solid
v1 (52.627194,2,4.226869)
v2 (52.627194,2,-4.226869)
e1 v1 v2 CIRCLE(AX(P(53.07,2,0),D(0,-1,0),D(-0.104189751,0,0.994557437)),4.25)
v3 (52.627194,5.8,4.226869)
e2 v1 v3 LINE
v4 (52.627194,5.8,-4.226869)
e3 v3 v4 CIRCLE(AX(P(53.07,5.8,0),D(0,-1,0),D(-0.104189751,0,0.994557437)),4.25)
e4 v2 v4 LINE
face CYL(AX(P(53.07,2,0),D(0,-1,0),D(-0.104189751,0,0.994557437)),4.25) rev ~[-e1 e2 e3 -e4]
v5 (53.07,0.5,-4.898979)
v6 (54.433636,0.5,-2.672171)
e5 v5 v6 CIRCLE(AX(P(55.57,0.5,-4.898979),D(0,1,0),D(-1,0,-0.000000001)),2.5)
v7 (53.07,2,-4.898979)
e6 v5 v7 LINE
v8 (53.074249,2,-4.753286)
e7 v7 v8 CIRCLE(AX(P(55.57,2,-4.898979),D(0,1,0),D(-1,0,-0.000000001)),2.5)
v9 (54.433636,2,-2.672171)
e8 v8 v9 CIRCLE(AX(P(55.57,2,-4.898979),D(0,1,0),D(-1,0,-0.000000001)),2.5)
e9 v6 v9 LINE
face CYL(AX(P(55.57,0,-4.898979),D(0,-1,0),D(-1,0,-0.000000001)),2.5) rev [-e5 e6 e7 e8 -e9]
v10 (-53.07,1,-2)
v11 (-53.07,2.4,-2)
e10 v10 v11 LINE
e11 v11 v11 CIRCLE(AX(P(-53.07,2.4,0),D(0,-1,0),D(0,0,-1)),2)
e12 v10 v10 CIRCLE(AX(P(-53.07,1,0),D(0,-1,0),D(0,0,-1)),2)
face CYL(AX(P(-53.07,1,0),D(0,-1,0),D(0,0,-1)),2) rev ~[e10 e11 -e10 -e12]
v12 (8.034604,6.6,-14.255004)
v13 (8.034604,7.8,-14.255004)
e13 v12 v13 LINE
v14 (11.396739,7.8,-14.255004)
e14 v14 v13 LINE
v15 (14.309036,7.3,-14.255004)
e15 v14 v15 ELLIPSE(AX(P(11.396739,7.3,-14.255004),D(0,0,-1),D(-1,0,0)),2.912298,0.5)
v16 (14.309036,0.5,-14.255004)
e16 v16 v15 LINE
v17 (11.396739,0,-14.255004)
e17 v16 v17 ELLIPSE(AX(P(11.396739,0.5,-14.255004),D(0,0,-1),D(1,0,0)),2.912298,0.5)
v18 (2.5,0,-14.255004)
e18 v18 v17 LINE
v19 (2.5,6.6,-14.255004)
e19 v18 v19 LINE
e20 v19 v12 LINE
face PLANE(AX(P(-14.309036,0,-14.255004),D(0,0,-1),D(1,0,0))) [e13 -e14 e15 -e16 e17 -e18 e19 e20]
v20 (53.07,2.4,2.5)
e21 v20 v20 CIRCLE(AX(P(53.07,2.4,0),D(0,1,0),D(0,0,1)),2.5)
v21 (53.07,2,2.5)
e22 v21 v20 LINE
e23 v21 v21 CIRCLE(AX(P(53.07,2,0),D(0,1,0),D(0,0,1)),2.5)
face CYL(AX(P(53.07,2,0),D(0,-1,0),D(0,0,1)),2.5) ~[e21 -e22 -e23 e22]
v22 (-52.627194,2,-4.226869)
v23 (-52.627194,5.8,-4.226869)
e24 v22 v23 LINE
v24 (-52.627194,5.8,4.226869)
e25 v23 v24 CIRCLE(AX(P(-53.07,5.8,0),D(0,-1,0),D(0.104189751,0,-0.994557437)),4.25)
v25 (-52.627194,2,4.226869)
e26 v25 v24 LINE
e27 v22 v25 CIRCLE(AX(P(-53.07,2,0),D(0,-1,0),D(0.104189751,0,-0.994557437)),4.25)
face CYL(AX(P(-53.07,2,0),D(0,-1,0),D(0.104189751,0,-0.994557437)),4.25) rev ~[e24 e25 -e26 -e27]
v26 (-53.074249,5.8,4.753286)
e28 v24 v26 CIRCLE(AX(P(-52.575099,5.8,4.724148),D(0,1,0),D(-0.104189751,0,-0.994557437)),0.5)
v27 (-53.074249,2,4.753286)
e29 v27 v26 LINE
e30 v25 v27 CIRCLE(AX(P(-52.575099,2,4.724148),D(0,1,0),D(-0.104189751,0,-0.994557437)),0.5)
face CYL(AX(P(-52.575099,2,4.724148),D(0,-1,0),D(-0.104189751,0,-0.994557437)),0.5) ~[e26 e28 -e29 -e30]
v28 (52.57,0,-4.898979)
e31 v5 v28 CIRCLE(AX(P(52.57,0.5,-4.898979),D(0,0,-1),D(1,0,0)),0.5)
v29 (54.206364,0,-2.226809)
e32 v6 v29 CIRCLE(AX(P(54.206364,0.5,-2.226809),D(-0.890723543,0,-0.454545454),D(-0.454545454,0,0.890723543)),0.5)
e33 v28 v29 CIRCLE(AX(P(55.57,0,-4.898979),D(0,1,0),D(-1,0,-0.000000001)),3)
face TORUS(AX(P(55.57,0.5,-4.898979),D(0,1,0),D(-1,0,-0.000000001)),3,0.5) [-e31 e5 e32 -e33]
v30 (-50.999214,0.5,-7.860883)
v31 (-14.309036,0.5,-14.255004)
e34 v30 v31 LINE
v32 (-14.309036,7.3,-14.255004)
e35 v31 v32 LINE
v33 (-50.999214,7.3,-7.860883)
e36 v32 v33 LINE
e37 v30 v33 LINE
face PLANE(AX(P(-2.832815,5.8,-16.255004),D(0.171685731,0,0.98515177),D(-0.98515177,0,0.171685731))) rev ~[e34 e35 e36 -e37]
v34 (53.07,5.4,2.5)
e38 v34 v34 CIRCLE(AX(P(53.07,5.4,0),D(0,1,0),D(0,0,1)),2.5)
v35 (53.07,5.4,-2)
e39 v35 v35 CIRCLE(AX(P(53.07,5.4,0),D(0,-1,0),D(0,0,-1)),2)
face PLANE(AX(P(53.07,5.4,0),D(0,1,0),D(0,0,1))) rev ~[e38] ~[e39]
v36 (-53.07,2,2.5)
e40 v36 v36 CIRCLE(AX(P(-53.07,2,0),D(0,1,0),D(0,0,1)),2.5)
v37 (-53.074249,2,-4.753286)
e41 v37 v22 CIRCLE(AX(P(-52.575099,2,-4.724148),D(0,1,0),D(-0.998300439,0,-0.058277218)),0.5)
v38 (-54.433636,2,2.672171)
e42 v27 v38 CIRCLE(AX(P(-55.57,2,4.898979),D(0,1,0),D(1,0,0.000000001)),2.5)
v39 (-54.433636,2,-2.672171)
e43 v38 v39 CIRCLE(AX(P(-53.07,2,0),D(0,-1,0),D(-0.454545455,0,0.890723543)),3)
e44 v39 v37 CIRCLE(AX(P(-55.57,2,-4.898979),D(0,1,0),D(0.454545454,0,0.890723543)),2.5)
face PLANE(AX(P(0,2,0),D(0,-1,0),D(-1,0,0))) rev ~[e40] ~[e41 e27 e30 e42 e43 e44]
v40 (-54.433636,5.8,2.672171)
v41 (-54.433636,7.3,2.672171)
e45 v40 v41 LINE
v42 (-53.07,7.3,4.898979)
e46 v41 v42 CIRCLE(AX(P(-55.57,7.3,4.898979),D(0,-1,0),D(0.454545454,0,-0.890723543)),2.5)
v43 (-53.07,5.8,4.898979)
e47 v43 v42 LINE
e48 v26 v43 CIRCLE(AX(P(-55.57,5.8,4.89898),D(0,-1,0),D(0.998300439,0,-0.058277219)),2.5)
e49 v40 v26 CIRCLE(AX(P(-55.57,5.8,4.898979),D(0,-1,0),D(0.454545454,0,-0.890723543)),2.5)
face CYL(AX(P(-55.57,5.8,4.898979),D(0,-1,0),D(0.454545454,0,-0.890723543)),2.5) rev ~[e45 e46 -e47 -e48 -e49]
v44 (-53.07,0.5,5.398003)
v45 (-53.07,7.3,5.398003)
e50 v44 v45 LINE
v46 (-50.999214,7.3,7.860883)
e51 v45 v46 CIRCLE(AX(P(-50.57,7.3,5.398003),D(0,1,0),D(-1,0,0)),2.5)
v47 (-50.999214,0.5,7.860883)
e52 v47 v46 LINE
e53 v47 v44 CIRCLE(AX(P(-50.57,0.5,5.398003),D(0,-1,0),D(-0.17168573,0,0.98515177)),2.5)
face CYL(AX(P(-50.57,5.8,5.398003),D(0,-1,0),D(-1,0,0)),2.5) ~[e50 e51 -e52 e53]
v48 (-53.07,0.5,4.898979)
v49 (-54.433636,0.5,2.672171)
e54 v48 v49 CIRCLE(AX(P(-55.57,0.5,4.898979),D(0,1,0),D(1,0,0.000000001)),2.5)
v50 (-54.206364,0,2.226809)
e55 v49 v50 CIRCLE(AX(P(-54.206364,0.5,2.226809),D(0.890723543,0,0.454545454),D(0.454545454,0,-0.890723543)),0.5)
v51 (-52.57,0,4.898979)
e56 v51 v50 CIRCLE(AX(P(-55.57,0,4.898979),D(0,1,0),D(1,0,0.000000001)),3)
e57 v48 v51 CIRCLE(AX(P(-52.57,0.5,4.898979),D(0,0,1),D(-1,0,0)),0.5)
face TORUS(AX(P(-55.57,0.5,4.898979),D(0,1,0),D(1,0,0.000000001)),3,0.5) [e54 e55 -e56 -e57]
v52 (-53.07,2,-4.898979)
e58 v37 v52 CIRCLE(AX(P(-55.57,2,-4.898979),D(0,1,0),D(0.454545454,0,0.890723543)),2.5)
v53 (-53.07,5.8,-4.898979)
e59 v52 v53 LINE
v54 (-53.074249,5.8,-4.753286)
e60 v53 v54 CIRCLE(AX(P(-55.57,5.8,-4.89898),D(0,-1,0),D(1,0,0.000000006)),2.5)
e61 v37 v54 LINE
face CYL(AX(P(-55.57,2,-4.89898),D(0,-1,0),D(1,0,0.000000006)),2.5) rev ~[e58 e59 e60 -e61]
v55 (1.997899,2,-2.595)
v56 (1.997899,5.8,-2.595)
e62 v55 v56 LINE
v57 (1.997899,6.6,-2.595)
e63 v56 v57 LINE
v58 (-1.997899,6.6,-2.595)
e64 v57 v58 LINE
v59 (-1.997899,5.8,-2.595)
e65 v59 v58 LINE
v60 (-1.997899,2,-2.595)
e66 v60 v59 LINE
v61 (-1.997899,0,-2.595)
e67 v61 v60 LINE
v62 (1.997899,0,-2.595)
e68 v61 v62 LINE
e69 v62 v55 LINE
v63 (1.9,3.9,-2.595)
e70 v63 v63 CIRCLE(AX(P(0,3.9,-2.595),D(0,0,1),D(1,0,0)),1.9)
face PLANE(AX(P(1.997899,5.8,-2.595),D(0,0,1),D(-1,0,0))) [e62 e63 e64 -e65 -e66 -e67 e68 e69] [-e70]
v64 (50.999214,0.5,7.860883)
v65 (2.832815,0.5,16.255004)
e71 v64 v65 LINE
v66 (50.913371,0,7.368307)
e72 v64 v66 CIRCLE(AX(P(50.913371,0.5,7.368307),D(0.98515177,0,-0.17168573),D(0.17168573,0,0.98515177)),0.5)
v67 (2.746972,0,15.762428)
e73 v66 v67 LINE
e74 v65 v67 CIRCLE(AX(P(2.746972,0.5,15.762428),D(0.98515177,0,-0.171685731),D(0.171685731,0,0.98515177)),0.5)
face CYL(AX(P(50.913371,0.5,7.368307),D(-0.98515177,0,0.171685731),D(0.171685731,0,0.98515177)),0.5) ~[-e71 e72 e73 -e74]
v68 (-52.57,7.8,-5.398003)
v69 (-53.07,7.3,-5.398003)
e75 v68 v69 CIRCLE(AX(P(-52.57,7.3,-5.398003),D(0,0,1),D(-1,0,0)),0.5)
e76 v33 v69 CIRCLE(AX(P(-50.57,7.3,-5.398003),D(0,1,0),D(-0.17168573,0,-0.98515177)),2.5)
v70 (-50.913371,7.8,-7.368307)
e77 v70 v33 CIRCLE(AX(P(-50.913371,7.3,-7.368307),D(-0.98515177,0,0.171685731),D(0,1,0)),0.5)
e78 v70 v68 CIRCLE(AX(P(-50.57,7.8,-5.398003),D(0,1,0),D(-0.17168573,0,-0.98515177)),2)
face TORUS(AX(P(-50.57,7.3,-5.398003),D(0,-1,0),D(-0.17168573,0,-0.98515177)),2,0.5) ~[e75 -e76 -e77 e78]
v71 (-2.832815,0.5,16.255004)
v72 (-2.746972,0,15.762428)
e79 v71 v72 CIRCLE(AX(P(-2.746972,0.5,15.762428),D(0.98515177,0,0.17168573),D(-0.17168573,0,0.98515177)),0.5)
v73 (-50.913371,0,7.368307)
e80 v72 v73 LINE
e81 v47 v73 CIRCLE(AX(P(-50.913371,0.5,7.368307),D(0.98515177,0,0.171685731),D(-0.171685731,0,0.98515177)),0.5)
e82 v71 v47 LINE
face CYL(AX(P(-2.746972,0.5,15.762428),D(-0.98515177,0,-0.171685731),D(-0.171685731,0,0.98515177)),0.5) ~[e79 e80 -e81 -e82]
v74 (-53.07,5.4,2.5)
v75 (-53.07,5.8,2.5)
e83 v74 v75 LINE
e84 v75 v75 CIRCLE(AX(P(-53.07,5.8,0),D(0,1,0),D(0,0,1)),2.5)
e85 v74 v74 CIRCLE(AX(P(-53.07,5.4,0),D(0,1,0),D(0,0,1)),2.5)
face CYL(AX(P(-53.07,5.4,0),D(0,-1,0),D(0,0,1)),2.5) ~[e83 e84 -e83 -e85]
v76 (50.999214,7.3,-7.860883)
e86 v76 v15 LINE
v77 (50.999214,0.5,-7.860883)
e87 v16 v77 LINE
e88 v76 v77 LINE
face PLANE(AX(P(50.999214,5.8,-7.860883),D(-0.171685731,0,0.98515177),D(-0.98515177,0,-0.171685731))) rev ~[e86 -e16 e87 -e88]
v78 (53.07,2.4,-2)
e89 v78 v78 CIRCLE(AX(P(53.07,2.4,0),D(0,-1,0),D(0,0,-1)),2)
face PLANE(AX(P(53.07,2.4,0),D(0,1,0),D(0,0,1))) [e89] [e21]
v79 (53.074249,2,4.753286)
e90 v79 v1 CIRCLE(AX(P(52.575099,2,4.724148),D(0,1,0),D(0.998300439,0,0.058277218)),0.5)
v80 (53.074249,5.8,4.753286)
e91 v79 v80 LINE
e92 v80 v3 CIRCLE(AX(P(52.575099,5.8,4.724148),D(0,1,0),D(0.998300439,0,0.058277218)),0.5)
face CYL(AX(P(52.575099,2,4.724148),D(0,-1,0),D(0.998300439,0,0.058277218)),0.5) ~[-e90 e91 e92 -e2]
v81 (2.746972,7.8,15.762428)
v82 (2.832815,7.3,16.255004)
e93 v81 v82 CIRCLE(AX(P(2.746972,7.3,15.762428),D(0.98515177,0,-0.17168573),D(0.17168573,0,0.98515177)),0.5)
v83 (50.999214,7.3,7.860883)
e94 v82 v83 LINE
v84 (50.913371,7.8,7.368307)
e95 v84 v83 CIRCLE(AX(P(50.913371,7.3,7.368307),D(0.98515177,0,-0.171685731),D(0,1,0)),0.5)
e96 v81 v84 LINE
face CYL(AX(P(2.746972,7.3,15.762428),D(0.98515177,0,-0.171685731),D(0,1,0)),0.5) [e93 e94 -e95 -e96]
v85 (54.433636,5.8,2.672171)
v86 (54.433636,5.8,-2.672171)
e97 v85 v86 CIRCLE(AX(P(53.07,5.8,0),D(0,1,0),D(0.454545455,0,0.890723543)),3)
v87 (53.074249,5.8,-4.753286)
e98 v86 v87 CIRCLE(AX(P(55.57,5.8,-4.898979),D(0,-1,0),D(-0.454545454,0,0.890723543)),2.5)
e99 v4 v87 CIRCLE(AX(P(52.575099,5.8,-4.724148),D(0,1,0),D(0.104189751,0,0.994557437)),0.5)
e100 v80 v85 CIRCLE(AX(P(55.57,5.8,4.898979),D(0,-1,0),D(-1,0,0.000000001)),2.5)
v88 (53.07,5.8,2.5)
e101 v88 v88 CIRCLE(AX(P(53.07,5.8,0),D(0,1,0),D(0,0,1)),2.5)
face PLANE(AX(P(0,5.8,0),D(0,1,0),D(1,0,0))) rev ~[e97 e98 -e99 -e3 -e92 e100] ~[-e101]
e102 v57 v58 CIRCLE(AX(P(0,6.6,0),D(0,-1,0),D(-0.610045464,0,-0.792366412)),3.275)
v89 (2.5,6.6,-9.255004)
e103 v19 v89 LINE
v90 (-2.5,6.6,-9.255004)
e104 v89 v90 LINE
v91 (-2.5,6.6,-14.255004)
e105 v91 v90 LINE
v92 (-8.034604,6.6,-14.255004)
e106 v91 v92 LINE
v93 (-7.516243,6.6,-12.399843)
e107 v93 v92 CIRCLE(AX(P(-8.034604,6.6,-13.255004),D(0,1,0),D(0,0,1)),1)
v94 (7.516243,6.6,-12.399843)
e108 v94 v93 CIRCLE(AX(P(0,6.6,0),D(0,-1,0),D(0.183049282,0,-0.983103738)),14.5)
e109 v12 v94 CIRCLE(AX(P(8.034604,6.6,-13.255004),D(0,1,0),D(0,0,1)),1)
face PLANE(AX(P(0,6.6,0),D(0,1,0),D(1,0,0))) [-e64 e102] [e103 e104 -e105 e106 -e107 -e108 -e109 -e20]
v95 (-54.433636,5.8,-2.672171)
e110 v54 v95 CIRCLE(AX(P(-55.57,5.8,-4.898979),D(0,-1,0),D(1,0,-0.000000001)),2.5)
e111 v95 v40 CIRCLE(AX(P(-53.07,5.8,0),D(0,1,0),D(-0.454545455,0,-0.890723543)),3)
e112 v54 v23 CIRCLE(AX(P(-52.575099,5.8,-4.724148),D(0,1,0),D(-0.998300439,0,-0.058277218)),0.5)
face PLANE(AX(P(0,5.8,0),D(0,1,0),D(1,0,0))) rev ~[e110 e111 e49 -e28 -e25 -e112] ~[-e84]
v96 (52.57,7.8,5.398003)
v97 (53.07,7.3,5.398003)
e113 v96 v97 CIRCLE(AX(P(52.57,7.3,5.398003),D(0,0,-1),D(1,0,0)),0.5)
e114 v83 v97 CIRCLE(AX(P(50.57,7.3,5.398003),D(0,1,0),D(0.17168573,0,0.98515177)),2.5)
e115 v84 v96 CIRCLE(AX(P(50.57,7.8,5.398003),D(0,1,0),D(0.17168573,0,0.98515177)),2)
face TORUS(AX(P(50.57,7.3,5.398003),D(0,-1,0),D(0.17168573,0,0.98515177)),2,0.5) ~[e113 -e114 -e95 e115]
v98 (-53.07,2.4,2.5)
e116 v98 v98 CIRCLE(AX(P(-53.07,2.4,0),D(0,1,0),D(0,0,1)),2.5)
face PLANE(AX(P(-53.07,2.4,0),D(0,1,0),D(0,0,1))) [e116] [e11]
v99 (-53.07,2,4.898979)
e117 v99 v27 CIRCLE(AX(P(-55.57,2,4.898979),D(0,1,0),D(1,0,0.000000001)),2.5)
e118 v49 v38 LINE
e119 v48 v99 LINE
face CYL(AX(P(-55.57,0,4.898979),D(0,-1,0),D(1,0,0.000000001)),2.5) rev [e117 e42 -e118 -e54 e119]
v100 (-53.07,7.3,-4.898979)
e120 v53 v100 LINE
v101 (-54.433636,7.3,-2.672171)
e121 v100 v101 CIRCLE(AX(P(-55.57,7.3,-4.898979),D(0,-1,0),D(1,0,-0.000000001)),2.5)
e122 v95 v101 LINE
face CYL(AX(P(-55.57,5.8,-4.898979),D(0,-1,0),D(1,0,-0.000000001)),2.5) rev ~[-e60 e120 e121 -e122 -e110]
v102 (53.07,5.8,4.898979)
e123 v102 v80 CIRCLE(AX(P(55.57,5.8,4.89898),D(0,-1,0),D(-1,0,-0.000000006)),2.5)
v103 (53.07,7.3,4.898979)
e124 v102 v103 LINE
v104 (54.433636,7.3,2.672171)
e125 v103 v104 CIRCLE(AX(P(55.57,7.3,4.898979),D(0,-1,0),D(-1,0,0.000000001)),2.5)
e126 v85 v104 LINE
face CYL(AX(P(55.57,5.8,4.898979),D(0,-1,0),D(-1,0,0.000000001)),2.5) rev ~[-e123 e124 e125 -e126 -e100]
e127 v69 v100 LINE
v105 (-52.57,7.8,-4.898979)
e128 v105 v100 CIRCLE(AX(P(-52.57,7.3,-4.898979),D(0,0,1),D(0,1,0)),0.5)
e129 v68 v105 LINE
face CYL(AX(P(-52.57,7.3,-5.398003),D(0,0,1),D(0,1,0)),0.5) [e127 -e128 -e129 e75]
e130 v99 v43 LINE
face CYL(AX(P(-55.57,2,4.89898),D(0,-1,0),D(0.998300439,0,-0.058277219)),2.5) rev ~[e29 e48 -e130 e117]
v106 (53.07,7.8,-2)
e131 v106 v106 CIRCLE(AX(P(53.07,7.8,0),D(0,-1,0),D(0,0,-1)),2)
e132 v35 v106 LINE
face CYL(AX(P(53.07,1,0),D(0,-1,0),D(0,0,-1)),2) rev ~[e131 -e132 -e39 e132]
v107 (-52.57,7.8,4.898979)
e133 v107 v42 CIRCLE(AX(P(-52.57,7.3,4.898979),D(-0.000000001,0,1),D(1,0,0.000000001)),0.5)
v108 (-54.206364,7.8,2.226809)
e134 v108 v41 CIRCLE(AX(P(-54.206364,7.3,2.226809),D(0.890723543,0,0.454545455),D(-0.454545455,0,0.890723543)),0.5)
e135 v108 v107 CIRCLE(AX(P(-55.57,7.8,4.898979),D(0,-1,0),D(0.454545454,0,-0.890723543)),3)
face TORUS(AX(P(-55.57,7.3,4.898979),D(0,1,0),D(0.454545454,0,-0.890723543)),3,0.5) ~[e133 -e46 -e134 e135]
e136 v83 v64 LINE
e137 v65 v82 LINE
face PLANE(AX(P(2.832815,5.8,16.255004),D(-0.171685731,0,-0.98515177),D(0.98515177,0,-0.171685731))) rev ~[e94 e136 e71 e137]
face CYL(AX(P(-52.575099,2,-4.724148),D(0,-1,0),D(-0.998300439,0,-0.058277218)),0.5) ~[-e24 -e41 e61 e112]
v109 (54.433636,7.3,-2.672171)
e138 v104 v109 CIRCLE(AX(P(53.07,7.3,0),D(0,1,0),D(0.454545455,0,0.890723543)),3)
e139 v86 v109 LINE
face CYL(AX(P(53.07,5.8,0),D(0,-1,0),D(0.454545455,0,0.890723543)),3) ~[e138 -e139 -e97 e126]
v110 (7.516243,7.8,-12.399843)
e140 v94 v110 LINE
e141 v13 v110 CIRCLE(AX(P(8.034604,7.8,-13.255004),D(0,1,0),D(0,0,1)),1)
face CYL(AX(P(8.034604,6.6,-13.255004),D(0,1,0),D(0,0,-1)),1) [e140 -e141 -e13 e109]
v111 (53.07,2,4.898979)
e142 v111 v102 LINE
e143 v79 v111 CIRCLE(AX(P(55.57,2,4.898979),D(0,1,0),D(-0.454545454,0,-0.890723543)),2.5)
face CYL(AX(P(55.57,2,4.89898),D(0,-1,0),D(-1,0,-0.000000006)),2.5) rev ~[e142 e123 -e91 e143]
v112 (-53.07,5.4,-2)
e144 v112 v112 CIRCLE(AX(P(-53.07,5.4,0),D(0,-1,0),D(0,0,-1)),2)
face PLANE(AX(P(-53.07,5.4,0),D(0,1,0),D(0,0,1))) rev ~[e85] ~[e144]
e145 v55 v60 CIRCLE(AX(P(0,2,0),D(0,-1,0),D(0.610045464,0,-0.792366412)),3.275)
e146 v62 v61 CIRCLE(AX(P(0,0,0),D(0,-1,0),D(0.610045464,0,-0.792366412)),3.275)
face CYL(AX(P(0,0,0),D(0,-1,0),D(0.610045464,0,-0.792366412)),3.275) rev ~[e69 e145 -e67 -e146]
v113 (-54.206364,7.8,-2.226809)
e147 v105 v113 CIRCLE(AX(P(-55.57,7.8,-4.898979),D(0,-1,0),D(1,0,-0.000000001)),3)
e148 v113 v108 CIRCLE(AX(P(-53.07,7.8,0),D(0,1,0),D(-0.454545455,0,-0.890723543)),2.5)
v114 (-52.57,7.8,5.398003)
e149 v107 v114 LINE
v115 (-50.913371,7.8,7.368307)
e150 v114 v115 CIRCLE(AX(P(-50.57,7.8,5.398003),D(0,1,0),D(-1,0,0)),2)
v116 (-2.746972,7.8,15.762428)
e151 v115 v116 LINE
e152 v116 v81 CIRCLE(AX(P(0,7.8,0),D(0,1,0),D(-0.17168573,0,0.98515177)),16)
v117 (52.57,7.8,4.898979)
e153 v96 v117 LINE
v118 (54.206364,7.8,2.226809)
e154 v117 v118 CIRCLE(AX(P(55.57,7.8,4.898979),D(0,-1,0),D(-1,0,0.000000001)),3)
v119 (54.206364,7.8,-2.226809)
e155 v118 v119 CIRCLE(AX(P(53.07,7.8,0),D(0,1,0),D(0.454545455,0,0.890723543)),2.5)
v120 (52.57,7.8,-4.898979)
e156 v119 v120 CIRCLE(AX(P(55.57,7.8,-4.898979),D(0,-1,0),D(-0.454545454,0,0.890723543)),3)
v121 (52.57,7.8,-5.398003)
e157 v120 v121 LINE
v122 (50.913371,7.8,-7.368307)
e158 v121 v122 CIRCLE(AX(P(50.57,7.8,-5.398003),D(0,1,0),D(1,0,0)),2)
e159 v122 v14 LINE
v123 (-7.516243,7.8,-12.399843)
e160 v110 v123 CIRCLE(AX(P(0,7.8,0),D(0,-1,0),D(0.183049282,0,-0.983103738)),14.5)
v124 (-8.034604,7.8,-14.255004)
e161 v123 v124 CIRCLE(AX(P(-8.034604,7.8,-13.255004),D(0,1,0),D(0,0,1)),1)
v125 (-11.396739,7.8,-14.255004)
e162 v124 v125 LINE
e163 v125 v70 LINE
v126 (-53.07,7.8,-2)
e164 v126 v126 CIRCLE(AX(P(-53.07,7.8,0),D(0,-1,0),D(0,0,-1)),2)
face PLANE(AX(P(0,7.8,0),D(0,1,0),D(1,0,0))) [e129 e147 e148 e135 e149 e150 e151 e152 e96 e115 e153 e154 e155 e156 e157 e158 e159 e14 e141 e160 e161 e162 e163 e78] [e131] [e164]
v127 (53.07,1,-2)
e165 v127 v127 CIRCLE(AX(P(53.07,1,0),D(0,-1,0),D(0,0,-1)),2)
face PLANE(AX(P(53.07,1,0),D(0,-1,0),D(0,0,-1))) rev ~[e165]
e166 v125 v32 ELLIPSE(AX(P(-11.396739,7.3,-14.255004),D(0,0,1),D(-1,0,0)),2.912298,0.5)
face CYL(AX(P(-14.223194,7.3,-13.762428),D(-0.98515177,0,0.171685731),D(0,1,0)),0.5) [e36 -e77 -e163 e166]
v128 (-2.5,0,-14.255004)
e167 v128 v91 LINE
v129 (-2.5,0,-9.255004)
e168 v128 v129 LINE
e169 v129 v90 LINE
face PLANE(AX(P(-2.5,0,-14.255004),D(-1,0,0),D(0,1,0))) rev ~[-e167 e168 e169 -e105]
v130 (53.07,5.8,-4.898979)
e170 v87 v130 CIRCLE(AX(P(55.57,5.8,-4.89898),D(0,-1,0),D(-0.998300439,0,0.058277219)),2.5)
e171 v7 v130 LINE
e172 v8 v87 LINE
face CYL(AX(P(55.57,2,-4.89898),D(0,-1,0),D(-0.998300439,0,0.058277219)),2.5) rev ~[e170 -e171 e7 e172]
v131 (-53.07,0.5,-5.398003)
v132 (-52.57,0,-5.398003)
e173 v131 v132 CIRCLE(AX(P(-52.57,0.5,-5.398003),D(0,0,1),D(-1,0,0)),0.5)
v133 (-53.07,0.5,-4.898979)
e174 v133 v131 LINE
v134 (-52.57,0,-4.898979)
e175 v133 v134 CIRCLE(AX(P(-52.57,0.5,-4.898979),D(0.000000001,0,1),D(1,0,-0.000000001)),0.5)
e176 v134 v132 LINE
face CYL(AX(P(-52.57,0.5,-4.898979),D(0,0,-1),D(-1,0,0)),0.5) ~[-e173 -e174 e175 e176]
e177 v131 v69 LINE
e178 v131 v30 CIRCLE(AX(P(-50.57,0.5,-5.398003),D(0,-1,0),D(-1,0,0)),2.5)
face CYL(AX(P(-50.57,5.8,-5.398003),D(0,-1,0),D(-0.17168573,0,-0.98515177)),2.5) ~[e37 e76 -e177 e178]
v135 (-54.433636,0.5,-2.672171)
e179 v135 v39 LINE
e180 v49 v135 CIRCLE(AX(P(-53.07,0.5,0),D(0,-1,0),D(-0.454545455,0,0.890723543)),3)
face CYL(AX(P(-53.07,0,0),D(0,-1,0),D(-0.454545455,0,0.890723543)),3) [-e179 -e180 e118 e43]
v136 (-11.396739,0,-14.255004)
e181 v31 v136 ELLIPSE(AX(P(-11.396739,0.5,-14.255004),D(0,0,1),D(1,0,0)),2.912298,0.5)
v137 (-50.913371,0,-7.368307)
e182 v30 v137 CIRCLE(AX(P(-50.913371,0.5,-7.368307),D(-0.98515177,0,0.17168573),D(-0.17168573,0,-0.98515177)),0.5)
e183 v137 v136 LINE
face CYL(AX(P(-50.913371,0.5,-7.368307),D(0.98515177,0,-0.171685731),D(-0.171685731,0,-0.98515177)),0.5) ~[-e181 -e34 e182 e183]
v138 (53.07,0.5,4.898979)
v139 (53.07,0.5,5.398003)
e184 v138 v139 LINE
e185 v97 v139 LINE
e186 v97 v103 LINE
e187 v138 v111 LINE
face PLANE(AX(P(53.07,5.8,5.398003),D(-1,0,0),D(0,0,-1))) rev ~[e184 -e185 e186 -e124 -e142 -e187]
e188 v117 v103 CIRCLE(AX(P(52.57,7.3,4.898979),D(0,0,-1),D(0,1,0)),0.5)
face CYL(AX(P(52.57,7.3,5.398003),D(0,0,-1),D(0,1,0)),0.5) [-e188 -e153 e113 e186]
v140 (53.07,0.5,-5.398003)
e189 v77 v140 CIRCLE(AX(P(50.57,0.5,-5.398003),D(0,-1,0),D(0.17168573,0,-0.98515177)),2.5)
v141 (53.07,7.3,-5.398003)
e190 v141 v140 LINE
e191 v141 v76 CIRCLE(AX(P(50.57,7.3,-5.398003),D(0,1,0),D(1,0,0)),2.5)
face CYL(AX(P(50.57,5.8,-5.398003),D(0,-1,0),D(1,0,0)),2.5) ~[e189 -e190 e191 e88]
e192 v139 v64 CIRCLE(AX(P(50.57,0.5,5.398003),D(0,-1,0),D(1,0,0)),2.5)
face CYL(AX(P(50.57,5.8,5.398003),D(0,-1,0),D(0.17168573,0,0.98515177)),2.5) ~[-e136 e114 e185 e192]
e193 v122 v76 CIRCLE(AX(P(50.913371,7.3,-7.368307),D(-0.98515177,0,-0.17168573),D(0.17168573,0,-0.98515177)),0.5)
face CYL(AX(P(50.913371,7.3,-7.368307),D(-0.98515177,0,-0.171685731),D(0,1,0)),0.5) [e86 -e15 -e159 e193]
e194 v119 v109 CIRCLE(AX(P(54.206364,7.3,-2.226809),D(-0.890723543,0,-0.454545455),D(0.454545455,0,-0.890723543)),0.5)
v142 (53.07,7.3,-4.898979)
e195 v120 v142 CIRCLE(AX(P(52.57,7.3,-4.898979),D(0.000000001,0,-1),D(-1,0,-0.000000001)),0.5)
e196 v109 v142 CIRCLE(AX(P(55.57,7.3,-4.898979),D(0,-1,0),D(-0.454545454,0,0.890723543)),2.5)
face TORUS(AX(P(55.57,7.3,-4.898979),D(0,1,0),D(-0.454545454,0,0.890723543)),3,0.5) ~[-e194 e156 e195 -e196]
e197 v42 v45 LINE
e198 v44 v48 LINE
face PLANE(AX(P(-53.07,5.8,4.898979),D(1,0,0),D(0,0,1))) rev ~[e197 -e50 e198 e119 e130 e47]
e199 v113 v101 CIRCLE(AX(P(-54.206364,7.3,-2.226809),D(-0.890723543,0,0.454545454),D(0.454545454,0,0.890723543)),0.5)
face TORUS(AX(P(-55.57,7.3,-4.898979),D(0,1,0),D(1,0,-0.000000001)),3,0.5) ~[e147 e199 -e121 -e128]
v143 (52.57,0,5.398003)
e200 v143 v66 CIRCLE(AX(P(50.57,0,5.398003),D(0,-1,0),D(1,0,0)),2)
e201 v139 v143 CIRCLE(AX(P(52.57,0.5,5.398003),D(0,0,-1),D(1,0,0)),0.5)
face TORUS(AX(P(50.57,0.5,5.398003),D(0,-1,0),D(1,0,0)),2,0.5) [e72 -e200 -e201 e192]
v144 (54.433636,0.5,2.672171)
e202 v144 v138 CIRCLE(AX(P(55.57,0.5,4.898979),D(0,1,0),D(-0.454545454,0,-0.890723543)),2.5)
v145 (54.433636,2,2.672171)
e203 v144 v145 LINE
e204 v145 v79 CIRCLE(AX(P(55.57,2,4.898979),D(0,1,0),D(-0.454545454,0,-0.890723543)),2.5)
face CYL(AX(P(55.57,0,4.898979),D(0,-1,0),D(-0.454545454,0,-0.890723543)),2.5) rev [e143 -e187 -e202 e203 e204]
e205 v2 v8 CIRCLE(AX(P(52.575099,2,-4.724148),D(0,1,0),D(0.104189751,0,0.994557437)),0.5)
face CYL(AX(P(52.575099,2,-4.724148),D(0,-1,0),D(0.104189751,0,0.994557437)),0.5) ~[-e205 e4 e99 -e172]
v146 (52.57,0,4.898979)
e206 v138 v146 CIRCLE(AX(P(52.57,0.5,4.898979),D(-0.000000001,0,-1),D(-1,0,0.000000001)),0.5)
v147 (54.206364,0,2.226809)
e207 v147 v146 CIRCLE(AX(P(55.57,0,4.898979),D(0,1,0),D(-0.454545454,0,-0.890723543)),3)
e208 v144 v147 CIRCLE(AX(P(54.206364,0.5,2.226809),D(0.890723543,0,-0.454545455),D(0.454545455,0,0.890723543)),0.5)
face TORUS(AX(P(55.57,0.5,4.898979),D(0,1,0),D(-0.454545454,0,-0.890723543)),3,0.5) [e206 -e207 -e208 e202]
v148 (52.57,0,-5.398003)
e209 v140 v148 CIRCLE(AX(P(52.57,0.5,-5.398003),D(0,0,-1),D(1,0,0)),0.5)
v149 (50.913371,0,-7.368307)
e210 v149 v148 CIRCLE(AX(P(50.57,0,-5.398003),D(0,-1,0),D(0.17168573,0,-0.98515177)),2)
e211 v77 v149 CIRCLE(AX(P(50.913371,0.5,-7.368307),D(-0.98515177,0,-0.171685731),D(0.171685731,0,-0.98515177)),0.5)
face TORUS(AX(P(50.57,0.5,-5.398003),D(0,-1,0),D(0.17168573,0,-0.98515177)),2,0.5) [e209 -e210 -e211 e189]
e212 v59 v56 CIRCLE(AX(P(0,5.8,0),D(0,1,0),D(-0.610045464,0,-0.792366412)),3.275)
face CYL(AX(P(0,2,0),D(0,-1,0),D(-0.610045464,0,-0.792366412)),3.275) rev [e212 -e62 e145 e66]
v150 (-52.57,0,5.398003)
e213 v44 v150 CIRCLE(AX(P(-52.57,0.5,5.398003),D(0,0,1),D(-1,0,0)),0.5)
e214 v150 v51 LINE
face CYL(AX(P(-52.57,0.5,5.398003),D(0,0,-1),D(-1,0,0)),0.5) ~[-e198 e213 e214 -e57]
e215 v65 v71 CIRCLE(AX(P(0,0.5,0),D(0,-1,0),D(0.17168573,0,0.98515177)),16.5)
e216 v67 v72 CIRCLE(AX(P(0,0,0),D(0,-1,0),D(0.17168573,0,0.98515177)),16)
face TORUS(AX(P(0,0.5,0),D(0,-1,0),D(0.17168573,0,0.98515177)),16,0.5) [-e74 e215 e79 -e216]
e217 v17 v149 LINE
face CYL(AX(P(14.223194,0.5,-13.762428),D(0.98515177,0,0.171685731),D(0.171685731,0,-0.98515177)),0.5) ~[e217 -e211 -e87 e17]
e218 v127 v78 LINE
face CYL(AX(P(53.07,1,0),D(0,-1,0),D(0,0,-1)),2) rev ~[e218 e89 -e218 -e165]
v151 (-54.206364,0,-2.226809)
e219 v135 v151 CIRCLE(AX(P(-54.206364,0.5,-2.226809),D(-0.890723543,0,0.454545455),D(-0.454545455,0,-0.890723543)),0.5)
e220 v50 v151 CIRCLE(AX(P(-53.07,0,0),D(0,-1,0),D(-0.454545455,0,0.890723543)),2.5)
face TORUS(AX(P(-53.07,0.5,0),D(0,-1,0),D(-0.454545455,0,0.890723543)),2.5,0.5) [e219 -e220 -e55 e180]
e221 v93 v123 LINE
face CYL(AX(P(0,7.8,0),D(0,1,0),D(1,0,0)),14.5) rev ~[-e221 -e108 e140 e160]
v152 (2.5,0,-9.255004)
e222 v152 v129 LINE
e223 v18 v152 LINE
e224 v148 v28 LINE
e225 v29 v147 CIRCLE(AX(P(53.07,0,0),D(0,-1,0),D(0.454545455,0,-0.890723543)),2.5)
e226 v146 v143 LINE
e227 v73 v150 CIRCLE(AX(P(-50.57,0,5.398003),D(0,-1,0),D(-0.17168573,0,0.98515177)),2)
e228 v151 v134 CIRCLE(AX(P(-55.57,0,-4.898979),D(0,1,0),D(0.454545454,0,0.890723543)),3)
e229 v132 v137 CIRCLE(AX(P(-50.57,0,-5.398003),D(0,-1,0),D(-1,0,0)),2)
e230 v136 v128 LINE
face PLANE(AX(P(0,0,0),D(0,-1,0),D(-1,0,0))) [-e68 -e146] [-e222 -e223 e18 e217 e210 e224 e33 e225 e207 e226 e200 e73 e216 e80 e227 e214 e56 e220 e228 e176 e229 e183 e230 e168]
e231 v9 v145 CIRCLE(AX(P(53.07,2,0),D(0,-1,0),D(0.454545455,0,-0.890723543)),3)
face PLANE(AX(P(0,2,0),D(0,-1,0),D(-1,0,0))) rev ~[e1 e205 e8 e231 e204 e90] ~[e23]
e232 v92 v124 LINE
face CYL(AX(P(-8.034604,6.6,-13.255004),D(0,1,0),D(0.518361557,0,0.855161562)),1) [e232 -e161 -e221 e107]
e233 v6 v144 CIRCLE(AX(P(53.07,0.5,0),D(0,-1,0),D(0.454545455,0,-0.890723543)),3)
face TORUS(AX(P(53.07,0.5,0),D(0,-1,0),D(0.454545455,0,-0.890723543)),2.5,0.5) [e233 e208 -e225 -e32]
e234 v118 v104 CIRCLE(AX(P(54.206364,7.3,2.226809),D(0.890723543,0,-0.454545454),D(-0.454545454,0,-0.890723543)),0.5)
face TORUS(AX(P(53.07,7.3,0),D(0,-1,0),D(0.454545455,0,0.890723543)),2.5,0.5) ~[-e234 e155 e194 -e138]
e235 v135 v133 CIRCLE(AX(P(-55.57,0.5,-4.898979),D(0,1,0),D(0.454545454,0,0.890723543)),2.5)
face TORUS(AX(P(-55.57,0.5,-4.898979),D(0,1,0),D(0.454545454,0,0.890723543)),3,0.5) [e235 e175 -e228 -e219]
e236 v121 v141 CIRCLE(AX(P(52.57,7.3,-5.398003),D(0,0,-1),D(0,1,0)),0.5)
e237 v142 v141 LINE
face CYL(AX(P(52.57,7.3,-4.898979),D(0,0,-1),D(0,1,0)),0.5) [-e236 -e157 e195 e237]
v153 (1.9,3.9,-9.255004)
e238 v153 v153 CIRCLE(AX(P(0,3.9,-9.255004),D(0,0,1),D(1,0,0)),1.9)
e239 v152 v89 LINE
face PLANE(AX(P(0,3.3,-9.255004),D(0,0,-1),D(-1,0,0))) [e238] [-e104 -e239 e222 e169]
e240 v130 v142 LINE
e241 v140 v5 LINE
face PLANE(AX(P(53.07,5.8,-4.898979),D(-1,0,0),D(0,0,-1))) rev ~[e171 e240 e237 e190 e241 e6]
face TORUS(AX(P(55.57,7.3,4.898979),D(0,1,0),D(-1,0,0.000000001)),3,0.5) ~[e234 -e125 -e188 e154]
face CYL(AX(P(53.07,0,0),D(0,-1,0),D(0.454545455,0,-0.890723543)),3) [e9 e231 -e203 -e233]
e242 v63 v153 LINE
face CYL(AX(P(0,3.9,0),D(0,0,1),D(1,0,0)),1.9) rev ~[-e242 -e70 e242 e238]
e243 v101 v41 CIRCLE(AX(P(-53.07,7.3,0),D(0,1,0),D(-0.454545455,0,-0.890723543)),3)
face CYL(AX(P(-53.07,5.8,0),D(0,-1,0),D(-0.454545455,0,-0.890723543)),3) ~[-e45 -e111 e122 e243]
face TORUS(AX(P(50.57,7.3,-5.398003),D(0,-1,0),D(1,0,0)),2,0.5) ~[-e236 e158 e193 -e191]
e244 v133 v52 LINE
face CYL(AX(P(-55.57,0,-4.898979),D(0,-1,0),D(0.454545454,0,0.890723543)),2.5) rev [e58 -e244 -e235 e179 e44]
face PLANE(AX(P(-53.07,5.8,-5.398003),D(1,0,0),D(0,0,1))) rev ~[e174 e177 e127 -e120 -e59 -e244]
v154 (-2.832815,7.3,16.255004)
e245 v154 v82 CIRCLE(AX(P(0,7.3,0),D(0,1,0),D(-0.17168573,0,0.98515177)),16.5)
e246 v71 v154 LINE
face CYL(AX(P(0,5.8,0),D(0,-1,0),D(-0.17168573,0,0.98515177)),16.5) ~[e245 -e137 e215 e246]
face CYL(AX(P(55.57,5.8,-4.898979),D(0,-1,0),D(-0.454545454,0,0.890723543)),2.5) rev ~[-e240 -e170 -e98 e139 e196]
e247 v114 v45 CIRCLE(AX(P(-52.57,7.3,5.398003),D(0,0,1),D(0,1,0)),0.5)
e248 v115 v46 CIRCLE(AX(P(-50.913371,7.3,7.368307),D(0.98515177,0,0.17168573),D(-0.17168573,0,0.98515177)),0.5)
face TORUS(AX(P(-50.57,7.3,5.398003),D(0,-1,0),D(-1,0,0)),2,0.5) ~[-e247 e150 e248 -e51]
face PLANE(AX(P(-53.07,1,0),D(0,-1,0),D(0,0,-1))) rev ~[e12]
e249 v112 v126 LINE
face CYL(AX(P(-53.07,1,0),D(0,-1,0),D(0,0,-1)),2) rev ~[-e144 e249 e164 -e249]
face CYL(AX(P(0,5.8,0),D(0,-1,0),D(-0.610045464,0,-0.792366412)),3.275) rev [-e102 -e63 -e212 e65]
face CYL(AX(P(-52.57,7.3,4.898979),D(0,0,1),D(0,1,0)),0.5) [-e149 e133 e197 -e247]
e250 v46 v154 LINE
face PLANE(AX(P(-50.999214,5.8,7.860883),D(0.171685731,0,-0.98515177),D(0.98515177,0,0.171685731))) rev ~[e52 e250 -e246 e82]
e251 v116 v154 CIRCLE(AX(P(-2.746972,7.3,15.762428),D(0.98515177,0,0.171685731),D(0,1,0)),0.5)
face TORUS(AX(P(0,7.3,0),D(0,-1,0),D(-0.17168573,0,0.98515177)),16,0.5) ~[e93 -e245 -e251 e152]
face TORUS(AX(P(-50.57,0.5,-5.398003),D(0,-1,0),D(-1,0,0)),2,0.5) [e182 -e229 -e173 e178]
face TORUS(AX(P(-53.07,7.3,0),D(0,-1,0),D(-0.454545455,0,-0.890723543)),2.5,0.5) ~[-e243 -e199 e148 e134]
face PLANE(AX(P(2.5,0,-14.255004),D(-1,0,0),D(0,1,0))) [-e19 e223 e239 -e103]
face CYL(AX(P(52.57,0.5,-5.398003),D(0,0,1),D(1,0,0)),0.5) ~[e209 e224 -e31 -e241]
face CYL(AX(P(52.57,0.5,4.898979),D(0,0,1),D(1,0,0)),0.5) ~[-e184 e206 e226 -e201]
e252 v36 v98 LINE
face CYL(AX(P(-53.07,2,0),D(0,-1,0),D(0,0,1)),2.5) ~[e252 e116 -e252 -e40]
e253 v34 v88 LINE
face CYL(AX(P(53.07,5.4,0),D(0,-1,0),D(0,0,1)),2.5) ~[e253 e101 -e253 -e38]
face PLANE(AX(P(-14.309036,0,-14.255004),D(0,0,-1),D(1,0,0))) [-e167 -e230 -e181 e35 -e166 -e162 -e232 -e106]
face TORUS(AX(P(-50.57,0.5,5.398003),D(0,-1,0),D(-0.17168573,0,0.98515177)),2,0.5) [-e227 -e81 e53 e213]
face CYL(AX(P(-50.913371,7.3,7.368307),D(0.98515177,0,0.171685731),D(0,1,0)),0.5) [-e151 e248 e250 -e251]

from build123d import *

# Parameters (mm, degrees)
BOSS_EXTRUDE1_DEPTH = 2
SKETCH2_R           = 2.5
BOSS_EXTRUDE2_DEPTH = 0.4
SKETCH3_R           = 2
BOSS_EXTRUDE3_DEPTH = 3
SKETCH5_R           = 2.5
BOSS_EXTRUDE4_DEPTH = 0.4
BOSS_EXTRUDE5_DEPTH = 3.8
BOSS_EXTRUDE6_DEPTH = 2
CUT_EXTRUDE1_DEPTH  = 59.965539936
SKETCH14_R          = 1.9
CUT_EXTRUDE6_DEPTH  = 59.965539936
SKETCH9_R           = 14.5
CUT_EXTRUDE3_DEPTH  = 1.2
FILLET1_R           = 0.5
SKETCH15_W          = 5
SKETCH15_H          = 6.6
CUT_EXTRUDE7_DEPTH  = 5
CUT_EXTRUDE5_START  = -1
SKETCH12_R          = 2
CUT_EXTRUDE5_DEPTH  = 58.96554006
FILLET4_R           = 1


with BuildPart() as part:
    # Sketch1 → Boss-Extrude1 (new body)
    with BuildSketch(Plane(origin=(0, 0, 0), x_dir=(1, 0, 0), z_dir=(0, 1, 0))):
        with BuildLine():
            Line((-53.07, -5.398003398), (-53.07, -4.898979486))
            ThreePointArc((-53.07, -4.898979486), (-53.437992836, -3.593397066), (-54.433636364, -2.672170628))
            ThreePointArc((-54.433636364, -2.672170628), (-56.07, 0), (-54.433636364, 2.672170628))
            ThreePointArc((-54.433636364, 2.672170628), (-53.437992836, 3.593397066), (-53.07, 4.898979486))
            Line((-53.07, 4.898979486), (-53.07, 5.398003398))
            ThreePointArc((-53.07, 5.398003398), (-52.483509318, 7.006879431), (-50.999214327, 7.860882822))
            Line((-50.999214327, 7.860882822), (-2.832814556, 16.255004205))
            ThreePointArc((-2.832814556, 16.255004205), (0, 16.5), (2.832814556, 16.255004205))
            Line((2.832814556, 16.255004205), (50.999214327, 7.860882822))
            ThreePointArc((50.999214327, 7.860882822), (52.483509318, 7.006879431), (53.07, 5.398003398))
            Line((53.07, 5.398003398), (53.07, 4.898979486))
            ThreePointArc((53.07, 4.898979486), (53.437992836, 3.593397066), (54.433636364, 2.672170628))
            ThreePointArc((54.433636364, 2.672170628), (56.07, 0), (54.433636364, -2.672170628))
            ThreePointArc((54.433636364, -2.672170628), (53.437992836, -3.593397066), (53.07, -4.898979486))
            Line((53.07, -4.898979486), (53.07, -5.398003398))
            ThreePointArc((53.07, -5.398003398), (52.483509318, -7.006879431), (50.999214327, -7.860882822))
            Line((50.999214327, -7.860882822), (2.832814556, -16.255004205))
            ThreePointArc((2.832814556, -16.255004205), (0, -16.5), (-2.832814556, -16.255004205))
            Line((-2.832814556, -16.255004205), (-50.999214327, -7.860882822))
            ThreePointArc((-50.999214327, -7.860882822), (-52.483509318, -7.006879431), (-53.07, -5.398003398))
        make_face()
        with BuildLine():
            Line((-1.997898896, 2.595), (1.997898896, 2.595))
            ThreePointArc((1.997898896, 2.595), (0, -3.275), (-1.997898896, 2.595))
        make_face(mode=Mode.SUBTRACT)
    extrude(amount=BOSS_EXTRUDE1_DEPTH)

    # Sketch2 → Boss-Extrude2 (add)
    with BuildSketch(Plane(origin=(0, 2, 0), x_dir=(1, 0, 0), z_dir=(0, 1, 0))):
        with Locations(Location((-53.07, 0, 0), (0, 0, 270))):
            Circle(SKETCH2_R)
        with Locations(Location((53.07, 0, 0), (0, 0, 270))):
            Circle(SKETCH2_R)
    extrude(amount=BOSS_EXTRUDE2_DEPTH)

    # Sketch3 → Boss-Extrude3 (add)
    with BuildSketch(Plane(origin=(0, 2.4, 0), x_dir=(1, 0, 0), z_dir=(0, 1, 0))):
        with Locations(Location((-53.07, 0, 0), (0, 0, 270))):
            Circle(SKETCH3_R)
        with Locations(Location((53.07, 0, 0), (0, 0, 270))):
            Circle(SKETCH3_R)
    extrude(amount=BOSS_EXTRUDE3_DEPTH)

    # Sketch5 → Boss-Extrude4 (add)
    with BuildSketch(Plane(origin=(0, 5.4, 0), x_dir=(1, 0, 0), z_dir=(0, 1, 0))):
        with Locations(Location((-53.07, 0, 0), (0, 0, 270))):
            Circle(SKETCH5_R)
        with Locations(Location((53.07, 0, 0), (0, 0, 270))):
            Circle(SKETCH5_R)
    extrude(amount=BOSS_EXTRUDE4_DEPTH)

    # Sketch4 → Boss-Extrude5 (add)
    with BuildSketch(Plane(origin=(0, 2, 0), x_dir=(1, 0, 0), z_dir=(0, 1, 0))):
        with BuildLine():
            Line((-53.07, 5.398003398), (-53.07, 4.898979486))
            ThreePointArc((-53.07, 4.898979486), (-53.071062452, 4.826101989), (-53.074248904, 4.753286436))
            ThreePointArc((-53.074248904, 4.753286436), (-52.95621099, 4.400491511), (-52.62719356, 4.226869108))
            ThreePointArc((-52.62719356, 4.226869108), (-48.82, 0), (-52.62719356, -4.226869108))
            ThreePointArc((-52.62719356, -4.226869108), (-52.95621099, -4.400491511), (-53.074248904, -4.753286436))
            ThreePointArc((-53.074248904, -4.753286436), (-53.071062452, -4.826101989), (-53.07, -4.898979486))
            Line((-53.07, -4.898979486), (-53.07, -5.398003398))
            ThreePointArc((-53.07, -5.398003398), (-52.483509318, -7.006879431), (-50.999214327, -7.860882822))
            Line((-50.999214327, -7.860882822), (-2.832814556, -16.255004205))
            ThreePointArc((-2.832814556, -16.255004205), (0, -16.5), (2.832814556, -16.255004205))
            Line((2.832814556, -16.255004205), (50.999214327, -7.860882822))
            ThreePointArc((50.999214327, -7.860882822), (52.483509318, -7.006879431), (53.07, -5.398003398))
            Line((53.07, -5.398003398), (53.07, -4.898979486))
            ThreePointArc((53.07, -4.898979486), (53.071062452, -4.826101989), (53.074248904, -4.753286436))
            ThreePointArc((53.074248904, -4.753286436), (52.95621099, -4.400491511), (52.62719356, -4.226869108))
            ThreePointArc((52.62719356, -4.226869108), (48.82, 0), (52.62719356, 4.226869108))
            ThreePointArc((52.62719356, 4.226869108), (52.95621099, 4.400491511), (53.074248904, 4.753286436))
            ThreePointArc((53.074248904, 4.753286436), (53.071062452, 4.826101989), (53.07, 4.898979486))
            Line((53.07, 4.898979486), (53.07, 5.398003398))
            ThreePointArc((53.07, 5.398003398), (52.483509318, 7.006879431), (50.999214327, 7.860882822))
            Line((50.999214327, 7.860882822), (2.832814556, 16.255004205))
            ThreePointArc((2.832814556, 16.255004205), (0, 16.5), (-2.832814556, 16.255004205))
            Line((-2.832814556, 16.255004205), (-50.999214327, 7.860882822))
            ThreePointArc((-50.999214327, 7.860882822), (-52.483509318, 7.006879431), (-53.07, 5.398003398))
        make_face()
        with BuildLine():
            Line((1.997898896, 2.595), (-1.997898896, 2.595))
            ThreePointArc((-1.997898896, 2.595), (0, -3.275), (1.997898896, 2.595))
        make_face(mode=Mode.SUBTRACT)
    extrude(amount=BOSS_EXTRUDE5_DEPTH)

    # Sketch6 → Boss-Extrude6 (add)
    with BuildSketch(Plane(origin=(0, 5.8, 0), x_dir=(1, 0, 0), z_dir=(0, 1, 0))):
        with BuildLine():
            Line((-2.832814556, 16.255004205), (-50.999214327, 7.860882822))
            ThreePointArc((-50.999214327, 7.860882822), (-52.483509318, 7.006879431), (-53.07, 5.398003398))
            Line((-53.07, 5.398003398), (-53.07, 4.898979486))
            ThreePointArc((-53.07, 4.898979486), (-53.437992836, 3.593397066), (-54.433636364, 2.672170628))
            ThreePointArc((-54.433636364, 2.672170628), (-56.07, 0), (-54.433636364, -2.672170628))
            ThreePointArc((-54.433636364, -2.672170628), (-53.437992836, -3.593397066), (-53.07, -4.898979486))
            Line((-53.07, -4.898979486), (-53.07, -5.398003398))
            ThreePointArc((-53.07, -5.398003398), (-52.483509318, -7.006879431), (-50.999214327, -7.860882822))
            Line((-50.999214327, -7.860882822), (-2.832814556, -16.255004205))
            ThreePointArc((-2.832814556, -16.255004205), (0, -16.5), (2.832814556, -16.255004205))
            Line((2.832814556, -16.255004205), (50.999214327, -7.860882822))
            ThreePointArc((50.999214327, -7.860882822), (52.483509318, -7.006879431), (53.07, -5.398003398))
            Line((53.07, -5.398003398), (53.07, -4.898979486))
            ThreePointArc((53.07, -4.898979486), (53.437992836, -3.593397066), (54.433636364, -2.672170628))
            ThreePointArc((54.433636364, -2.672170628), (56.07, 0), (54.433636364, 2.672170628))
            ThreePointArc((54.433636364, 2.672170628), (53.437992836, 3.593397066), (53.07, 4.898979486))
            Line((53.07, 4.898979486), (53.07, 5.398003398))
            ThreePointArc((53.07, 5.398003398), (52.483509318, 7.006879431), (50.999214327, 7.860882822))
            Line((50.999214327, 7.860882822), (2.832814556, 16.255004205))
            ThreePointArc((2.832814556, 16.255004205), (0, 16.5), (-2.832814556, 16.255004205))
        make_face()
        with BuildLine():
            Line((1.997898896, 2.595), (-1.997898896, 2.595))
            ThreePointArc((-1.997898896, 2.595), (0, -3.275), (1.997898896, 2.595))
        make_face(mode=Mode.SUBTRACT)
    extrude(amount=BOSS_EXTRUDE6_DEPTH)

    # Sketch7 → Cut-Extrude1 (cut, through all)
    with BuildSketch(Plane.XZ):
        with BuildLine():
            Line((-14.309036444, -14.255004205), (14.309036444, -14.255004205))
            Line((14.309036444, -14.255004205), (2.832814556, -16.255004205))
            ThreePointArc((2.832814556, -16.255004205), (0, -16.5), (-2.832814556, -16.255004205))
            Line((-2.832814556, -16.255004205), (-14.309036444, -14.255004205))
        make_face()
    extrude(amount=-CUT_EXTRUDE1_DEPTH, mode=Mode.SUBTRACT)

    # Sketch14 → Cut-Extrude6 (cut, through all)
    with BuildSketch(Plane.XY):
        with Locations((0, 3.9)):
            Circle(SKETCH14_R)
    extrude(amount=-CUT_EXTRUDE6_DEPTH, mode=Mode.SUBTRACT)

    # Sketch9 → Cut-Extrude3 (cut)
    with BuildSketch(Plane(origin=(0, 7.8, 0), x_dir=(1, 0, 0), z_dir=(0, 1, 0))):
        Circle(SKETCH9_R)
    extrude(amount=-CUT_EXTRUDE3_DEPTH, mode=Mode.SUBTRACT)

    # Fillet1
    fillet1_edges = [part.edges().sort_by_distance(p)[0] for p in [
        (-52.483509318, 7.8, -7.006879431),
        (-53.07, 7.8, -5.148491442),
        (-53.437992836, 7.8, -3.593397066),
        (-56.07, 7.8, 0),
        (-53.437992836, 7.8, 3.593397066),
        (-53.07, 7.8, 5.148491442),
        (-52.483509318, 7.8, 7.006879431),
        (-26.916014441, 7.8, 12.057943514),
        (0, 7.8, 16.5),
        (26.916014441, 7.8, 12.057943514),
        (52.483509318, 7.8, 7.006879431),
        (53.07, 7.8, 5.148491442),
        (53.437992836, 7.8, 3.593397066),
        (56.07, 7.8, 0),
        (53.437992836, 7.8, -3.593397066),
        (53.07, 7.8, -5.148491442),
        (52.483509318, 7.8, -7.006879431),
        (32.654125385, 7.8, -11.057943514),
        (-32.654125385, 7.8, -11.057943514),
        (-32.654125385, 0, -11.057943514),
        (32.654125385, 0, -11.057943514),
        (52.483509318, 0, -7.006879431),
        (53.07, 0, -5.148491442),
        (53.437992836, 0, -3.593397066),
        (56.07, 0, 0),
        (53.437992836, 0, 3.593397066),
        (53.07, 0, 5.148491442),
        (52.483509318, 0, 7.006879431),
        (26.916014441, 0, 12.057943514),
        (0, 0, 16.5),
        (-26.916014441, 0, 12.057943514),
        (-52.483509318, 0, 7.006879431),
        (-53.07, 0, 5.148491442),
        (-53.437992836, 0, 3.593397066),
        (-56.07, 0, 0),
        (-53.437992836, 0, -3.593397066),
        (-53.07, 0, -5.148491442),
        (-52.483509318, 0, -7.006879431),
    ]]
    fillet(fillet1_edges, radius=FILLET1_R)

    # Sketch15 → Cut-Extrude7 (cut)
    with BuildSketch(Plane(origin=(0, 0, -14.255004205), x_dir=(-1, 0, 0), z_dir=(0, 0, -1))):
        with Locations((0, 3.3)):
            Rectangle(SKETCH15_W, SKETCH15_H)
    extrude(amount=-CUT_EXTRUDE7_DEPTH, mode=Mode.SUBTRACT)

    # Sketch12 → Cut-Extrude5 (cut, through all)
    with BuildSketch(Plane.XZ.offset(CUT_EXTRUDE5_START)):
        with Locations(Location((-53.07, 0, 0), (0, 0, 270))):
            Circle(SKETCH12_R)
        with Locations(Location((53.07, 0, 0), (0, 0, 270))):
            Circle(SKETCH12_R)
    extrude(amount=-CUT_EXTRUDE5_DEPTH, mode=Mode.SUBTRACT)

    # Fillet4
    fillet4_edges = [part.edges().sort_by_distance(p)[0] for p in [
        (-2.654214597, 7.2, -14.255004205),
        (2.654214597, 7.2, -14.255004205),
    ]]
    fillet(fillet4_edges, radius=FILLET4_R)


solid = part.part
